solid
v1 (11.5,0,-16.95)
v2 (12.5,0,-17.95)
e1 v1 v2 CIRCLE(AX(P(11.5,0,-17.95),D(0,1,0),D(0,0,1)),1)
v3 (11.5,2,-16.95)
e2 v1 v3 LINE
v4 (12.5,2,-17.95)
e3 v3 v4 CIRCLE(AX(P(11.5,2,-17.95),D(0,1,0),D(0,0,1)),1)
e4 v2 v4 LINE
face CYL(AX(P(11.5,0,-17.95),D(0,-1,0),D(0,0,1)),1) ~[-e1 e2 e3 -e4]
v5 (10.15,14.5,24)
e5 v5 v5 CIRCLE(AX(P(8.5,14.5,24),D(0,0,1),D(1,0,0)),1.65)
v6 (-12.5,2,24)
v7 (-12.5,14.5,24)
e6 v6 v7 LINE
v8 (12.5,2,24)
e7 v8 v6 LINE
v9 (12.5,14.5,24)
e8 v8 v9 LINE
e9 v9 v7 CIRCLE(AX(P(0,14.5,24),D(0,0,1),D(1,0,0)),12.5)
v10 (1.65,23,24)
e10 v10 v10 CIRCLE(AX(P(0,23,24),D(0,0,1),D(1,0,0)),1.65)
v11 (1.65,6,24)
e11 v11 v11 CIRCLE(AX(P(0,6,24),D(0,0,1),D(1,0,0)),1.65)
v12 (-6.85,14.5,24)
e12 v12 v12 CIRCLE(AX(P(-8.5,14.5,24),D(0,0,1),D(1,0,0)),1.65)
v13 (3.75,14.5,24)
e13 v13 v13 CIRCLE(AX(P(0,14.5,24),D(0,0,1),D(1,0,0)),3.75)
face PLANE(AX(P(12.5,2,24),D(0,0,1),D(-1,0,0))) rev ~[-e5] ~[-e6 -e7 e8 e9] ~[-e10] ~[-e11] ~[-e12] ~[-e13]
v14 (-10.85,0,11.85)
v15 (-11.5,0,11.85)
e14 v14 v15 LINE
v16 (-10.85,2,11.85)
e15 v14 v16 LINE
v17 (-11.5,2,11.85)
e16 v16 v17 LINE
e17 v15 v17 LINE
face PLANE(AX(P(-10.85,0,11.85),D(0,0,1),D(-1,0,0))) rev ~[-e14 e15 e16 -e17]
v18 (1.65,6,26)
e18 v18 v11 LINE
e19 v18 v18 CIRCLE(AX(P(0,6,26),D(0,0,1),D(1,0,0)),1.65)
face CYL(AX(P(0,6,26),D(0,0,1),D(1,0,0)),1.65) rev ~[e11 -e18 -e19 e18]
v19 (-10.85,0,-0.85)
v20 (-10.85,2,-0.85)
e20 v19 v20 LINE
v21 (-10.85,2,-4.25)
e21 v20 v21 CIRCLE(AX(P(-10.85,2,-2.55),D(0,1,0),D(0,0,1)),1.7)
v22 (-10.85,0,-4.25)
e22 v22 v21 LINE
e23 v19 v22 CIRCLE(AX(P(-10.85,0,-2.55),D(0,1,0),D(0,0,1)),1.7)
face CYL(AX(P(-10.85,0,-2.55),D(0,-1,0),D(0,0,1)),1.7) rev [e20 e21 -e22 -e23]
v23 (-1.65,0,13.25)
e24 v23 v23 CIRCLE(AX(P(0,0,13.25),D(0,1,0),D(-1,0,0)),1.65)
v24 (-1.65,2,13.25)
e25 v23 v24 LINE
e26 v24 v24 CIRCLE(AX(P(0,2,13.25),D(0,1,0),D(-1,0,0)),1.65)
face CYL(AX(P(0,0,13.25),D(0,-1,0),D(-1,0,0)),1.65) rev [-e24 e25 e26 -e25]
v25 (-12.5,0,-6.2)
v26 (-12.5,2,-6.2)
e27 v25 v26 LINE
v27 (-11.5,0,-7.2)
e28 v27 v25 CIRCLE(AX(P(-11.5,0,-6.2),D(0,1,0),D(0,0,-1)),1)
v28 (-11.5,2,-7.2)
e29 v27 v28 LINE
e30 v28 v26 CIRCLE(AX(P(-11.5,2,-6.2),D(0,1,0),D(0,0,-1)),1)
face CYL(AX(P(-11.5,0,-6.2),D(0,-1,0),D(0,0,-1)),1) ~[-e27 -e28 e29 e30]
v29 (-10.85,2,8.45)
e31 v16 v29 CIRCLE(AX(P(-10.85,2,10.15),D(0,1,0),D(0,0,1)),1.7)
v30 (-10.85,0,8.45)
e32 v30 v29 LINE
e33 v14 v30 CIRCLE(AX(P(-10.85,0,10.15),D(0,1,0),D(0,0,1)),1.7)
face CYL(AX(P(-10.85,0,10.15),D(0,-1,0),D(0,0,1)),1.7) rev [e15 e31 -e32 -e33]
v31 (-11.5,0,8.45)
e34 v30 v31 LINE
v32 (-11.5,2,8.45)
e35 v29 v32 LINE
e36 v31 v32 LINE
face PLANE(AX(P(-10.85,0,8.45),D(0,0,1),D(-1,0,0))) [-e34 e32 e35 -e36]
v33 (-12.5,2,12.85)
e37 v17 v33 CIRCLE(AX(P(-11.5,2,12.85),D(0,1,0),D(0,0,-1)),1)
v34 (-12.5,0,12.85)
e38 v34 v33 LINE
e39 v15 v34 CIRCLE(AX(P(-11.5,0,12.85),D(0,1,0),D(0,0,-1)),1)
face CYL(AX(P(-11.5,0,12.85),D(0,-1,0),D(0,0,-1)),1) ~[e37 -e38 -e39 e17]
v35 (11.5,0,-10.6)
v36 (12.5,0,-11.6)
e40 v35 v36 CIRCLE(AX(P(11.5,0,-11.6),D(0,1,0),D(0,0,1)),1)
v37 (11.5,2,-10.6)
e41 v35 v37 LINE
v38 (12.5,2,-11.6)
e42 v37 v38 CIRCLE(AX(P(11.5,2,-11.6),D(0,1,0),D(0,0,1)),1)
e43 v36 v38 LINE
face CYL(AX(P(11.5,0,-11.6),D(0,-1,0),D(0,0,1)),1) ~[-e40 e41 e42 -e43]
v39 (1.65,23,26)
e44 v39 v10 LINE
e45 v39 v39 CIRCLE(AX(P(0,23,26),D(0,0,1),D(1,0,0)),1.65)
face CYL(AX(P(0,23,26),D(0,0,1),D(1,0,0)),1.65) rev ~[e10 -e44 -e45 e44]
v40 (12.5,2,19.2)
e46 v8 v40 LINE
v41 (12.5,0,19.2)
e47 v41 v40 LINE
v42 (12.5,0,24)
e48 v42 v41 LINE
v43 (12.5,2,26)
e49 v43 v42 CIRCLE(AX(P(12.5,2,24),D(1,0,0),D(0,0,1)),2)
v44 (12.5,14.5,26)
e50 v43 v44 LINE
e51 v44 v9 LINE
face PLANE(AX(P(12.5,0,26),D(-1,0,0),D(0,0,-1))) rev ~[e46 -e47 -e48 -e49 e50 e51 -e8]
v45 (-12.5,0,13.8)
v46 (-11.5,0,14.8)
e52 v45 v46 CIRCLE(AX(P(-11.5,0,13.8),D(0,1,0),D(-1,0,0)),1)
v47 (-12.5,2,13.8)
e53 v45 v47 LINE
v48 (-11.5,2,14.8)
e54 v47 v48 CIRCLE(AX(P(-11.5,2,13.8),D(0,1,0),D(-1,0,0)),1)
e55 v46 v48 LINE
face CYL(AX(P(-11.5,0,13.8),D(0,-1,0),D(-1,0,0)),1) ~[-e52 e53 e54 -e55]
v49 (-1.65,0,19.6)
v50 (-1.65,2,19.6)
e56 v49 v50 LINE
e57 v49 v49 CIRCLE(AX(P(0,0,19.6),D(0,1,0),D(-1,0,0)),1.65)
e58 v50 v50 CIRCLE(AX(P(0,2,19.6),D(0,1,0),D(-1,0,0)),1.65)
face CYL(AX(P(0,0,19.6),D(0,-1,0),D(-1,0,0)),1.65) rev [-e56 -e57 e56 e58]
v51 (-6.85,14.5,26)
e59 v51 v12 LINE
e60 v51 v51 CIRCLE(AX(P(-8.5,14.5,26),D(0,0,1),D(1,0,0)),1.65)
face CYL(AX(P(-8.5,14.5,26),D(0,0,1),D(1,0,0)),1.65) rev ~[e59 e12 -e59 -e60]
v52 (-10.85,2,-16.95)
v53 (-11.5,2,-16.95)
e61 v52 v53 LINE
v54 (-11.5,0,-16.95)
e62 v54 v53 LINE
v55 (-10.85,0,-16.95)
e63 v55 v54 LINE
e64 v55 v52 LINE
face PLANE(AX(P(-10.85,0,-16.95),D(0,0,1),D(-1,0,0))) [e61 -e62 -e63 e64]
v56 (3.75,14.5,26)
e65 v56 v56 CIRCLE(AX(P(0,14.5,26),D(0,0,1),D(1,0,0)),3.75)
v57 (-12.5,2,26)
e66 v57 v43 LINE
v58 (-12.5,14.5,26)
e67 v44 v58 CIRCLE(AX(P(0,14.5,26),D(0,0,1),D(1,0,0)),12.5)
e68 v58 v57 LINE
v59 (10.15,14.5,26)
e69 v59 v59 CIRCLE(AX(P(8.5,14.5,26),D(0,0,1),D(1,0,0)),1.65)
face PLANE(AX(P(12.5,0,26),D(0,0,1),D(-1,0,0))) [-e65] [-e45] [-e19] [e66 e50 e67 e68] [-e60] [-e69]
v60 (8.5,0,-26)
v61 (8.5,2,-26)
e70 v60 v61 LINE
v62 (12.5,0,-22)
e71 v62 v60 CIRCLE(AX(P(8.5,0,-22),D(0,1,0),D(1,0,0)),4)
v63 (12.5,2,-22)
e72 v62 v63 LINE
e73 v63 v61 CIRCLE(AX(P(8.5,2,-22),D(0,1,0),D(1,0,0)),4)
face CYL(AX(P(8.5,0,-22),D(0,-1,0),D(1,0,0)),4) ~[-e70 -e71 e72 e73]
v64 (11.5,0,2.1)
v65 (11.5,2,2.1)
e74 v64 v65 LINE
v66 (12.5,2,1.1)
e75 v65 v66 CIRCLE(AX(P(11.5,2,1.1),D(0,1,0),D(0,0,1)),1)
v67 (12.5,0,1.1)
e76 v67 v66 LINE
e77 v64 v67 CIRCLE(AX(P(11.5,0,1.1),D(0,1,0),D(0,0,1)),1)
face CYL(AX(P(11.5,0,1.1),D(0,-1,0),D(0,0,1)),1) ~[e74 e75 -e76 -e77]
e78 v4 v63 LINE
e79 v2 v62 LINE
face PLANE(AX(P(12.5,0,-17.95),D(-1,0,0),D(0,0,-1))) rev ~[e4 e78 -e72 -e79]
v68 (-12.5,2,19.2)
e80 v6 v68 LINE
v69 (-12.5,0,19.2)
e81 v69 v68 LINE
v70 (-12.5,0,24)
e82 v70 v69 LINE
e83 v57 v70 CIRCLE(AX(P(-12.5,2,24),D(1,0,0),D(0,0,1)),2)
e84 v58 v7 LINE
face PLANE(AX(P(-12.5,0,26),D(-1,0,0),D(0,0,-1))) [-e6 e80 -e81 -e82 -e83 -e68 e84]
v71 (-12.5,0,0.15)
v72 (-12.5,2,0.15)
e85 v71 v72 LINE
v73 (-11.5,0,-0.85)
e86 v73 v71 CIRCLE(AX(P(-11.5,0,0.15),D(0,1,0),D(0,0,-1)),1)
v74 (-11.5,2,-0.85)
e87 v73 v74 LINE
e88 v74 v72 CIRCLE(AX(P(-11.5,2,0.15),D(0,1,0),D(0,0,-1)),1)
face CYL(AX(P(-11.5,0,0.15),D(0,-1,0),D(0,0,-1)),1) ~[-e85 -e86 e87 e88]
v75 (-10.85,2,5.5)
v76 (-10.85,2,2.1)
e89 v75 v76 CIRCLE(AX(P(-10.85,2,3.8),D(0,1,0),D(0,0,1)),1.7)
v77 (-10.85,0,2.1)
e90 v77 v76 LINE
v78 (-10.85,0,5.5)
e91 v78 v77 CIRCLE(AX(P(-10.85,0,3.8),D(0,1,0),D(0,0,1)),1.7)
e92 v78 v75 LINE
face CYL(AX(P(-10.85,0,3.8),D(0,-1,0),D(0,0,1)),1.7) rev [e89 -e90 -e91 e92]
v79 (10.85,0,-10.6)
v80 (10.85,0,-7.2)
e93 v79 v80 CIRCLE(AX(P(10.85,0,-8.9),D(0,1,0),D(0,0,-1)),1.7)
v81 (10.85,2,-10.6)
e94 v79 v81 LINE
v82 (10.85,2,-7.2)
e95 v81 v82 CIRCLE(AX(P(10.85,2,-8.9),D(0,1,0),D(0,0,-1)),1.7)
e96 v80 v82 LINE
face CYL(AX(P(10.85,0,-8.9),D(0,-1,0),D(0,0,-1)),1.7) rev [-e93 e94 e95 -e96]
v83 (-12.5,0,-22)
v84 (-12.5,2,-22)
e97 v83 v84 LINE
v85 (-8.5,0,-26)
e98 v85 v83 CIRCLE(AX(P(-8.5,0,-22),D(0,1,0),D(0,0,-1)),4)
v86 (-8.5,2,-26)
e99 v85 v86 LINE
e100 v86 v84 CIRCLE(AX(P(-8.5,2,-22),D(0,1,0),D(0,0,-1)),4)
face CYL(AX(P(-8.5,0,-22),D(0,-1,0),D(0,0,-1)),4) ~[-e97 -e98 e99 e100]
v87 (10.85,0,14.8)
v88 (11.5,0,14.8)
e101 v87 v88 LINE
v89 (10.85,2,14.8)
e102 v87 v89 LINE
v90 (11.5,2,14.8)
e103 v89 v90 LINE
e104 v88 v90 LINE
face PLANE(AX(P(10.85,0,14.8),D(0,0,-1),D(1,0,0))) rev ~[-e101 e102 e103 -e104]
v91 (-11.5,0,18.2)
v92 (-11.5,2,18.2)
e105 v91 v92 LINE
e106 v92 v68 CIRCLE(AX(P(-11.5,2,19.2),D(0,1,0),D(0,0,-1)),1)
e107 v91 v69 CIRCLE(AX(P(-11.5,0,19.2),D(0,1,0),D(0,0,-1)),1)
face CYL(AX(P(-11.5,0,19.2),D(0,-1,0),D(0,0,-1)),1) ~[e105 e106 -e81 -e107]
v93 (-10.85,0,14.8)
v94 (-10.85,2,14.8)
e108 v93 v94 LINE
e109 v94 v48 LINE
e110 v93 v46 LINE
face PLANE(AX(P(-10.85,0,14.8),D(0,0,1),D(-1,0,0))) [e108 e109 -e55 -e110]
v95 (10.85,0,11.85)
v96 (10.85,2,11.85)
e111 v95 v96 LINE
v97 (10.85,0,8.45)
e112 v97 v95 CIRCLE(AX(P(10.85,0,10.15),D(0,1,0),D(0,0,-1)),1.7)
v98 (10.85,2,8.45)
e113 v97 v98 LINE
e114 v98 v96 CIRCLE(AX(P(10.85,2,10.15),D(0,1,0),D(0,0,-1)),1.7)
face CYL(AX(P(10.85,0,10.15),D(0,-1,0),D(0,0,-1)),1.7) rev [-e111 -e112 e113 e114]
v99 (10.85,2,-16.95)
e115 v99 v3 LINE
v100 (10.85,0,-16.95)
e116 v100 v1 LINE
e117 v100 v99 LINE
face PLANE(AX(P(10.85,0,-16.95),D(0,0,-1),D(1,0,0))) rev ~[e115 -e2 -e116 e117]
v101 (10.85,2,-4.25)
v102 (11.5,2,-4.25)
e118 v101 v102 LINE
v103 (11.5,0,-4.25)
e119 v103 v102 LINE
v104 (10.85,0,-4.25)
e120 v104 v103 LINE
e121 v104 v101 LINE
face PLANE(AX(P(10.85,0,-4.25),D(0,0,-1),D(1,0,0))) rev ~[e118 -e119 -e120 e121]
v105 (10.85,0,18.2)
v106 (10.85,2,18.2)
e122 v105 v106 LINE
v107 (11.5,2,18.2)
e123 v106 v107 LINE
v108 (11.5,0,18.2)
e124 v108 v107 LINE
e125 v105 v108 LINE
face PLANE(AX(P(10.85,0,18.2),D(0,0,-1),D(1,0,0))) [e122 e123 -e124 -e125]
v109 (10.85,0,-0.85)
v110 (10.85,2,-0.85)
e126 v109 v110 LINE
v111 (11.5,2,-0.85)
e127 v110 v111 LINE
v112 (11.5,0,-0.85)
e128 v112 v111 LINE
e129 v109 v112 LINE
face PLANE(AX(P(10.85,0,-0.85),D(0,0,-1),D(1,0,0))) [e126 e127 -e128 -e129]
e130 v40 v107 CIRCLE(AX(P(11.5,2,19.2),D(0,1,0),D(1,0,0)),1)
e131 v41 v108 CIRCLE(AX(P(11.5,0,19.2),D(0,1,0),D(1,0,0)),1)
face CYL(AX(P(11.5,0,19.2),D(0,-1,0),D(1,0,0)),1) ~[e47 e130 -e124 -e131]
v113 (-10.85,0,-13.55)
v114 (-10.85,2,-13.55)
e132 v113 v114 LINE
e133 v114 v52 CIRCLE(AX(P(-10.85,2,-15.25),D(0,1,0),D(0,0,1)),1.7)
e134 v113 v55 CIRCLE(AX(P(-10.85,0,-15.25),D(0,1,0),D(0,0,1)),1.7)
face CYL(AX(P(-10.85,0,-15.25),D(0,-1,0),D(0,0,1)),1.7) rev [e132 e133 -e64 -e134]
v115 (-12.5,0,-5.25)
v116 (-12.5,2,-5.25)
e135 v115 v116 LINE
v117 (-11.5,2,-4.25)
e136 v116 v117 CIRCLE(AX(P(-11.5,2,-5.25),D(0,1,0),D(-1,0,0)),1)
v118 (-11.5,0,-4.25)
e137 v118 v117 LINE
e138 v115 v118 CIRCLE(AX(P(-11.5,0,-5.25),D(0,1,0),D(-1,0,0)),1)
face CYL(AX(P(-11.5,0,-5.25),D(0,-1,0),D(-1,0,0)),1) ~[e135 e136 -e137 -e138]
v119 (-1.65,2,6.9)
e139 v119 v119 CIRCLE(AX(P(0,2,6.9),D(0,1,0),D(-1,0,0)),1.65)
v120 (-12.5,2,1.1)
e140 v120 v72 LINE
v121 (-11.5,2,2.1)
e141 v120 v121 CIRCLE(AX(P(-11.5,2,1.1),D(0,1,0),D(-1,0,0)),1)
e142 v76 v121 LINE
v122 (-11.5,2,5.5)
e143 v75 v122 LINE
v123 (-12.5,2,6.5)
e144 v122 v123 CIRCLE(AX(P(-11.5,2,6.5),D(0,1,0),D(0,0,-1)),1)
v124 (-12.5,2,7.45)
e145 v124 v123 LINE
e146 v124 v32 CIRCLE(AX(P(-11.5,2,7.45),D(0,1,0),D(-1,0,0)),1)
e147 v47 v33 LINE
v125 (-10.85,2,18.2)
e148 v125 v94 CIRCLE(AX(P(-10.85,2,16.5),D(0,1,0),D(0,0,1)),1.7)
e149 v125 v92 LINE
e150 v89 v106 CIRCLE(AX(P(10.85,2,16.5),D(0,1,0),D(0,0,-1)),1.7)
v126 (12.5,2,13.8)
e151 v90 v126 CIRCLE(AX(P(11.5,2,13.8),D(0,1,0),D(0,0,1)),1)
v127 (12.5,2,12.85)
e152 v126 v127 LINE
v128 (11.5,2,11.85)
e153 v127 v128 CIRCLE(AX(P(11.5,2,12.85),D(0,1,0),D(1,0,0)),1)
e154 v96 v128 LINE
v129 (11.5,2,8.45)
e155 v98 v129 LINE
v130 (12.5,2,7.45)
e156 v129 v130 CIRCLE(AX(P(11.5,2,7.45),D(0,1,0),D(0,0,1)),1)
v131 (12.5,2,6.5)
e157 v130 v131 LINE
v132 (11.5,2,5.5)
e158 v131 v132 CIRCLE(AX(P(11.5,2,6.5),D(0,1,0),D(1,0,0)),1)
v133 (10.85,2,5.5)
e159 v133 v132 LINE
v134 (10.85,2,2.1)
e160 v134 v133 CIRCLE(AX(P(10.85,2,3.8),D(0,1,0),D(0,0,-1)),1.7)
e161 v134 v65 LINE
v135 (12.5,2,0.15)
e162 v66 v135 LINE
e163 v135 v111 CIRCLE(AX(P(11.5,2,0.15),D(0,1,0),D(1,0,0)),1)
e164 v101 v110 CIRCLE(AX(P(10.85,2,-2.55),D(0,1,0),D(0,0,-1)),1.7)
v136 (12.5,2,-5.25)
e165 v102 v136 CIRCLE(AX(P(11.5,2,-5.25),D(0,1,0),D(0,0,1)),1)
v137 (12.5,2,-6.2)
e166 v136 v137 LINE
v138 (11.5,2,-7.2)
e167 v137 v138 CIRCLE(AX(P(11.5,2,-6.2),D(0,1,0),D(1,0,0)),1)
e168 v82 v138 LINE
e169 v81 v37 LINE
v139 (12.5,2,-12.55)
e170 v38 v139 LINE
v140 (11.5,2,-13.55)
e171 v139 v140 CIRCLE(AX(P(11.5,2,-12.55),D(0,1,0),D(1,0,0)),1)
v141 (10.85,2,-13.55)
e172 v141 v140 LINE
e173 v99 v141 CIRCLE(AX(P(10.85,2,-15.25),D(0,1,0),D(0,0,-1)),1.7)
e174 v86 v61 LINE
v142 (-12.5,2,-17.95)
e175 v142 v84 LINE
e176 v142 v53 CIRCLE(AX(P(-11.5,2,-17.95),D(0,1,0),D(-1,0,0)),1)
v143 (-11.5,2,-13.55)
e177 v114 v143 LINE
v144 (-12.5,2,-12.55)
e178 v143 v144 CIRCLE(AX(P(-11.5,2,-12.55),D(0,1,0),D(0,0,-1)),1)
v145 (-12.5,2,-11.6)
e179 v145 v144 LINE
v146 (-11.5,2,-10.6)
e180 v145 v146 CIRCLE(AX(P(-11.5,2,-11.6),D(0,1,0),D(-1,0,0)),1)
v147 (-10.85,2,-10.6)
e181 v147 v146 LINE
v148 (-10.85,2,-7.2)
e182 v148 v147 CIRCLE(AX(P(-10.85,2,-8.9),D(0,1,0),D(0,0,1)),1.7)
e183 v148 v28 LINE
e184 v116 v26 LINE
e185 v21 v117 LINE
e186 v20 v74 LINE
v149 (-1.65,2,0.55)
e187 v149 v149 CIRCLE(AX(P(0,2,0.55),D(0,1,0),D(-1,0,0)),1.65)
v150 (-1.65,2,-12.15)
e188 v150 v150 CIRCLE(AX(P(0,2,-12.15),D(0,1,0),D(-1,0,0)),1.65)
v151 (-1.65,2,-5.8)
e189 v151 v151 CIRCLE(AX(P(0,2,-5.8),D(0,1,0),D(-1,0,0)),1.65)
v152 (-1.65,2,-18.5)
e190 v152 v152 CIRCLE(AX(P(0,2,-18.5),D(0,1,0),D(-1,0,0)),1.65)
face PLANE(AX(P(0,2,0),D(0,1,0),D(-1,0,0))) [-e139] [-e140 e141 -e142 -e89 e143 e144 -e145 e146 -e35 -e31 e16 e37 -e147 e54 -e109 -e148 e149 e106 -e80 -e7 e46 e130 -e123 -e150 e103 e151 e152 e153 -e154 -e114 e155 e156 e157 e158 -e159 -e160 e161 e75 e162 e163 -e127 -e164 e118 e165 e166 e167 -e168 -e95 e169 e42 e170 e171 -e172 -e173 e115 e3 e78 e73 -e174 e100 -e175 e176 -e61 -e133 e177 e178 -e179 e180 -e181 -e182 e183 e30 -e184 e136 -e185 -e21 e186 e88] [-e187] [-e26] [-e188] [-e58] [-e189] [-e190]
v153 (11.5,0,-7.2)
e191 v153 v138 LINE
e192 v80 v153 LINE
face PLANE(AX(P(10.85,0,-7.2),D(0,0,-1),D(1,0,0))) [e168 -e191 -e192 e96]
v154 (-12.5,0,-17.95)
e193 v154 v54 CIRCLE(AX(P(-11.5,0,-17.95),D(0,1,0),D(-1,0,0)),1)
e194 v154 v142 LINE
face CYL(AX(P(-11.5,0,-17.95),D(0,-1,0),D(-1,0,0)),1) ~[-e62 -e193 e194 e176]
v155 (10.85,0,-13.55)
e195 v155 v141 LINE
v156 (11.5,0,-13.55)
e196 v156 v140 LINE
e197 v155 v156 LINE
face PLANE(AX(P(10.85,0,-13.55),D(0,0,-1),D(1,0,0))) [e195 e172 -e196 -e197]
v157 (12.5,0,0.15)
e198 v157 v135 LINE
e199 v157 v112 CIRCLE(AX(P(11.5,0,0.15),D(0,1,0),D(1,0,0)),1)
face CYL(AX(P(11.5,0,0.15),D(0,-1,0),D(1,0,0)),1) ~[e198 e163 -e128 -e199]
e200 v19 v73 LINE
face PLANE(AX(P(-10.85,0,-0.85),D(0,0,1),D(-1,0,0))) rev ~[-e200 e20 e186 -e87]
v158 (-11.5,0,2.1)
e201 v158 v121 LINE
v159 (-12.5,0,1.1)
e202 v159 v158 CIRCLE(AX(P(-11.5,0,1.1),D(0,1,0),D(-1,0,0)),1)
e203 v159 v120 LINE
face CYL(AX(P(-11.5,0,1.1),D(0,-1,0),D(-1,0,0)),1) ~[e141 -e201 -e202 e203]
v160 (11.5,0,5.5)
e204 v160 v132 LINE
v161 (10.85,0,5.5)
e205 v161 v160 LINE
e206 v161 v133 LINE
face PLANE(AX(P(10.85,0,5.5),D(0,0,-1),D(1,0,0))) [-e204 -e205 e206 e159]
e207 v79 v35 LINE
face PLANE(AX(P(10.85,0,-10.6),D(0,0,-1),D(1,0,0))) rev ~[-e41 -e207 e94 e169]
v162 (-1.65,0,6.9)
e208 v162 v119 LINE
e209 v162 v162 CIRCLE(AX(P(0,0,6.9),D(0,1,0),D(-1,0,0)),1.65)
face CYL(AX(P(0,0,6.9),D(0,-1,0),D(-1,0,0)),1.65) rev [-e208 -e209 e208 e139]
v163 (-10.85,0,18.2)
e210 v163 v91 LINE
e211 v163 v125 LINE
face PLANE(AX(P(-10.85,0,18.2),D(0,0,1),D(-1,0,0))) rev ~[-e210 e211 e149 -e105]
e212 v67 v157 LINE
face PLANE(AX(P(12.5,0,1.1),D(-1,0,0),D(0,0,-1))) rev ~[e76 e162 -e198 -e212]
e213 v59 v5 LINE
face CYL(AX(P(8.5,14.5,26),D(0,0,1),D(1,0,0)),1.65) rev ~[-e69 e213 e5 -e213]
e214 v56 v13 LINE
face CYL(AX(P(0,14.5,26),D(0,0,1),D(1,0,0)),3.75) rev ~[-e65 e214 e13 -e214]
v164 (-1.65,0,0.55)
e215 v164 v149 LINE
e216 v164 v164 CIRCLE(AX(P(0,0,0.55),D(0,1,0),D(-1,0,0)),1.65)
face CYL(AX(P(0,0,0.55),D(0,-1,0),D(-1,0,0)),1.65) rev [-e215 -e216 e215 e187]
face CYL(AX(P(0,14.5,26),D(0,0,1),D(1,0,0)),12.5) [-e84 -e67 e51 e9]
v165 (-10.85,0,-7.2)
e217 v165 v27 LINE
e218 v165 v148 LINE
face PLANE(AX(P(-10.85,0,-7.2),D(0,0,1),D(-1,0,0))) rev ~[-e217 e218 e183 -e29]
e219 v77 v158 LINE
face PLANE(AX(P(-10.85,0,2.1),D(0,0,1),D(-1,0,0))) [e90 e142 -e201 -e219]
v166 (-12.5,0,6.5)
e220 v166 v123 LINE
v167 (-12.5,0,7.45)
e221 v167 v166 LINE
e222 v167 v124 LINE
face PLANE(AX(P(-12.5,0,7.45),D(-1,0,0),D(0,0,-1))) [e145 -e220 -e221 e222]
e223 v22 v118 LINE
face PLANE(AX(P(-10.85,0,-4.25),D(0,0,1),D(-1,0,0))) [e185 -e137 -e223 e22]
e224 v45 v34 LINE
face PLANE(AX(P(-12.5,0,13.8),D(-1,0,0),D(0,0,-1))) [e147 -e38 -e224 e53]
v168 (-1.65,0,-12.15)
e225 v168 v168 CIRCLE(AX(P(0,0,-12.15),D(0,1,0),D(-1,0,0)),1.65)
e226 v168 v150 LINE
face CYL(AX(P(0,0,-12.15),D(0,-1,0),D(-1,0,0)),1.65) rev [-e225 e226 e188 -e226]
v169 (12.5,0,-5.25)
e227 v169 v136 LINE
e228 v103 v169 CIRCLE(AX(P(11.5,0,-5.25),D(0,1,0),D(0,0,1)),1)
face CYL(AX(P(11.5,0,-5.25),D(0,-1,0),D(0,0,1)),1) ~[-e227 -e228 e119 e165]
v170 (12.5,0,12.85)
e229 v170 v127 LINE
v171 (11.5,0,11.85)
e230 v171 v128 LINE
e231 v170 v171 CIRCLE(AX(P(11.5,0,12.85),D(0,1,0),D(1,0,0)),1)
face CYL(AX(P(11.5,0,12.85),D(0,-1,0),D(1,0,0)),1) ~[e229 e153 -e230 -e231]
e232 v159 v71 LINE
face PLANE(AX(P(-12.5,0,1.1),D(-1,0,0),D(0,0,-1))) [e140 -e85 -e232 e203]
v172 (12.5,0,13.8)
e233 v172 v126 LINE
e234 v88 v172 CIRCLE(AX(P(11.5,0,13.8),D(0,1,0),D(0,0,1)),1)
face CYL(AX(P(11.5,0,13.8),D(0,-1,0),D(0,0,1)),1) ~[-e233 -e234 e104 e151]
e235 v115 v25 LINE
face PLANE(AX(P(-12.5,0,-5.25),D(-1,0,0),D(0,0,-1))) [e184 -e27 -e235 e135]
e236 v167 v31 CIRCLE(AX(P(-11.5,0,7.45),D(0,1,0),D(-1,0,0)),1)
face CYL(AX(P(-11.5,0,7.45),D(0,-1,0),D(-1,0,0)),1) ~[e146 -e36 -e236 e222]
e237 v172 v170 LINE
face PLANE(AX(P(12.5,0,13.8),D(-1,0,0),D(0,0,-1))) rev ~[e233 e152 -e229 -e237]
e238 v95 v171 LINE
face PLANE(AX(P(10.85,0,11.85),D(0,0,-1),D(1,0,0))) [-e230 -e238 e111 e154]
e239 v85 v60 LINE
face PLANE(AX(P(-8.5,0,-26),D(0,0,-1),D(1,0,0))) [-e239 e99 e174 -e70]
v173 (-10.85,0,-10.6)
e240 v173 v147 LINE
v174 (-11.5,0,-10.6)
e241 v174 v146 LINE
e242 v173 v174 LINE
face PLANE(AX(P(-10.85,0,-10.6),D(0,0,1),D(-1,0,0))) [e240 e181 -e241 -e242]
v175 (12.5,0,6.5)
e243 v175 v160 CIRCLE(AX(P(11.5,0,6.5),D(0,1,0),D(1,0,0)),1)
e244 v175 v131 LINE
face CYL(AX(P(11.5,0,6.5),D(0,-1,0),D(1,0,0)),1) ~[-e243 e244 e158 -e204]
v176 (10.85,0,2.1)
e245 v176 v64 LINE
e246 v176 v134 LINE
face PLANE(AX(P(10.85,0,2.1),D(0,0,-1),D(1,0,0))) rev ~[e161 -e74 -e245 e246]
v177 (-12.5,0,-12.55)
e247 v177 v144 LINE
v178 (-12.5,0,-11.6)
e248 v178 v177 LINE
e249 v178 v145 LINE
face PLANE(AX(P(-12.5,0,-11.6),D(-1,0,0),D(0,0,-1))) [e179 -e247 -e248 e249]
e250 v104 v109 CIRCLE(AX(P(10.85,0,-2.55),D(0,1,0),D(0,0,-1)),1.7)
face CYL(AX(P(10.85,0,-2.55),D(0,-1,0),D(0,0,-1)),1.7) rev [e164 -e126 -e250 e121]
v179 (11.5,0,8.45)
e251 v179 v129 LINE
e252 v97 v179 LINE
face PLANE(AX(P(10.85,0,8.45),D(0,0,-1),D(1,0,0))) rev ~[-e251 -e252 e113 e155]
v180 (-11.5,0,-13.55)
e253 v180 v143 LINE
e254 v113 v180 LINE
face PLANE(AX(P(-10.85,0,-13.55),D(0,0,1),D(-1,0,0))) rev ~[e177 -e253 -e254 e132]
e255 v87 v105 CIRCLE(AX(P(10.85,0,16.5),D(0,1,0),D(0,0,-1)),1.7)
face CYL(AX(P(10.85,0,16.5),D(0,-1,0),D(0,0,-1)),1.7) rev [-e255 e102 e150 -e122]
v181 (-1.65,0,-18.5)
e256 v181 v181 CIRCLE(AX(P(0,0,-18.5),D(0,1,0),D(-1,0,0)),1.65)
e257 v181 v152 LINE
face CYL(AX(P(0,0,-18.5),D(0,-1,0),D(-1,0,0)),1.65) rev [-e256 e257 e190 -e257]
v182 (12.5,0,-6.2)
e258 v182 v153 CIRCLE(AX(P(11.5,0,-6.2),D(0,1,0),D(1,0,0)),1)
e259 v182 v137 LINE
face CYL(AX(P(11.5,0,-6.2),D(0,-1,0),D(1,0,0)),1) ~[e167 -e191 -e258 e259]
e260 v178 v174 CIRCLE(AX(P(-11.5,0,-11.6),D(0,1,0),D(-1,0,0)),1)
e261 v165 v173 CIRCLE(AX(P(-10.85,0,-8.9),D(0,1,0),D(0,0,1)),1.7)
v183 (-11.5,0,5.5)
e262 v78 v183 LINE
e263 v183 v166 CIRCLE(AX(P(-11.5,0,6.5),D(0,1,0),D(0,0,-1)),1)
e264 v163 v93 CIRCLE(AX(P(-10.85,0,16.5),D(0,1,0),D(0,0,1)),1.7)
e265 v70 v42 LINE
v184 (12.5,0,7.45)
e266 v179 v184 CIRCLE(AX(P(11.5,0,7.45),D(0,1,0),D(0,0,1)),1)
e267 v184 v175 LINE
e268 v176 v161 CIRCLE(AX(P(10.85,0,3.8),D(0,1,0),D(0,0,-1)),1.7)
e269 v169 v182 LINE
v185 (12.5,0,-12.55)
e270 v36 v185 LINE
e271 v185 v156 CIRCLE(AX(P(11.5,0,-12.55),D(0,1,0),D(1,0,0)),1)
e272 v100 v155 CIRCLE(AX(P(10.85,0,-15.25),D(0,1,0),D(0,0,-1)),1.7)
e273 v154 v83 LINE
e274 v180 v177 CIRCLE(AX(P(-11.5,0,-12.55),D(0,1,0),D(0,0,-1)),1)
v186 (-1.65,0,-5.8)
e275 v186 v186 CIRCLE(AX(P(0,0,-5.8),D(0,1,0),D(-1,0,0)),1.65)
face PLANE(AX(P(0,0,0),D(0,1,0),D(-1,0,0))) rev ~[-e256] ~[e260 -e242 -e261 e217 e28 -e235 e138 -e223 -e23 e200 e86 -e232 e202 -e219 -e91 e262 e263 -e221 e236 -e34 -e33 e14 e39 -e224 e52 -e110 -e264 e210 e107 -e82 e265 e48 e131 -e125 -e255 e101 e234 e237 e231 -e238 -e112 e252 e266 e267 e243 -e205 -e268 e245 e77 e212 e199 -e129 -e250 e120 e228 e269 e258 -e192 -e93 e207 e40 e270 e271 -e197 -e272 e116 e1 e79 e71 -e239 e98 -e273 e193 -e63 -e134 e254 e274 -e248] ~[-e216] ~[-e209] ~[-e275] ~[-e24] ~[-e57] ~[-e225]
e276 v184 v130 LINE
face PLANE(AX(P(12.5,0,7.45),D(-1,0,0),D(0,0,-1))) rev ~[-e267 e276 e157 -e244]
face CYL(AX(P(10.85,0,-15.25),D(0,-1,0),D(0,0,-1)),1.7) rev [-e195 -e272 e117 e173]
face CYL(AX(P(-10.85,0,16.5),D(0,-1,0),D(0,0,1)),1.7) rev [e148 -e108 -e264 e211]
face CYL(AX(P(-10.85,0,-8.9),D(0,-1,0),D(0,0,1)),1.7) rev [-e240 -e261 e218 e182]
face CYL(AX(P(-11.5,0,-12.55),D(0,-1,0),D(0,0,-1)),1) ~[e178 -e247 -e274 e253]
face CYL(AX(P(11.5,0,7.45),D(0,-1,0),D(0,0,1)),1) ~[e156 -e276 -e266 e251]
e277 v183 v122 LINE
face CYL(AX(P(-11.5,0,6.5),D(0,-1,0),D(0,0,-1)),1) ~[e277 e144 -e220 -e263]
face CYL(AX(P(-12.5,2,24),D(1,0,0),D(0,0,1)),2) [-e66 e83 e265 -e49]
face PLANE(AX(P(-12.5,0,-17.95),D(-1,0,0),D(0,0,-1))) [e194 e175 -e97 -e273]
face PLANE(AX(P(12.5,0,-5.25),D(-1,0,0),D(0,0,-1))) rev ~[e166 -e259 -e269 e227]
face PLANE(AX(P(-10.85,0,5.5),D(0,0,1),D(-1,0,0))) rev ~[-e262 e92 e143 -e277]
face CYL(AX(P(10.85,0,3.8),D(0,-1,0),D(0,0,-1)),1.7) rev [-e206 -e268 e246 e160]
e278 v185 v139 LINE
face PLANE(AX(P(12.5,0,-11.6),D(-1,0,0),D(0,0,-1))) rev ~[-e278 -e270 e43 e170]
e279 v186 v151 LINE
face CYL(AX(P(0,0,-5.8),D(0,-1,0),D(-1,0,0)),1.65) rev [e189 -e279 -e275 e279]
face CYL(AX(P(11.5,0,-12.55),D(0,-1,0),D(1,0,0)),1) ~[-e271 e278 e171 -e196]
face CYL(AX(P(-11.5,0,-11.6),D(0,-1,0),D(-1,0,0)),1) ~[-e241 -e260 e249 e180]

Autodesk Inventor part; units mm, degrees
ref_plane "YZ Plane" through (0, 0, 0) normal (1, 0, 0) x (0, 1, 0)
ref_plane "XZ Plane" through (0, 0, 0) normal (0, 1, 0) x (-1, 0, 0)
ref_plane "XY Plane" through (0, 0, 0) normal (0, 0, 1) x (1, 0, 0)
sketch "Sketch1" plane through (0, 0, 0) normal (0, 1, 0) x (-1, 0, 0)
  line L0 (-12.5, 26) -> (12.5, 26)
  line L1 (12.5, 26) -> (12.5, 19.2)
  line L2 (8.5, -26) -> (-8.5, -26)
  circle A0 centre (0, 19.6) radius 1.65
  line L3 (0, 26) -> (10.85, 26)
  arc A1 (10.85, 18.2) -> (10.85, 14.8) centre (10.85, 16.5) ccw
  line L4 (10.85, 18.2) -> (11.5, 18.2)
  line L5 (10.85, 14.8) -> (11.5, 14.8)
  arc A2 (11.5, 18.2) -> (12.5, 19.2) centre (11.5, 19.2) ccw
  arc A3 (12.5, 13.8) -> (11.5, 14.8) centre (11.5, 13.8) ccw
  arc A4 (10.85, 11.85) -> (10.85, 8.45) centre (10.85, 10.15) ccw
  line L6 (10.85, 11.85) -> (11.5, 11.85)
  line L7 (10.85, 8.45) -> (11.5, 8.45)
  arc A5 (11.5, 11.85) -> (12.5, 12.85) centre (11.5, 12.85) ccw
  arc A6 (12.5, 7.45) -> (11.5, 8.45) centre (11.5, 7.45) ccw
  arc A7 (10.85, 5.5) -> (10.85, 2.1) centre (10.85, 3.8) ccw
  line L8 (10.85, 5.5) -> (11.5, 5.5)
  line L9 (10.85, 2.1) -> (11.5, 2.1)
  arc A8 (11.5, 5.5) -> (12.5, 6.5) centre (11.5, 6.5) ccw
  arc A9 (12.5, 1.1) -> (11.5, 2.1) centre (11.5, 1.1) ccw
  arc A10 (10.85, -0.85) -> (10.85, -4.25) centre (10.85, -2.55) ccw
  line L10 (10.85, -0.85) -> (11.5, -0.85)
  line L11 (10.85, -4.25) -> (11.5, -4.25)
  arc A11 (11.5, -0.85) -> (12.5, 0.15) centre (11.5, 0.15) ccw
  arc A12 (12.5, -5.25) -> (11.5, -4.25) centre (11.5, -5.25) ccw
  arc A13 (10.85, -7.2) -> (10.85, -10.6) centre (10.85, -8.9) ccw
  line L12 (10.85, -7.2) -> (11.5, -7.2)
  line L13 (10.85, -10.6) -> (11.5, -10.6)
  arc A14 (11.5, -7.2) -> (12.5, -6.2) centre (11.5, -6.2) ccw
  arc A15 (12.5, -11.6) -> (11.5, -10.6) centre (11.5, -11.6) ccw
  arc A16 (10.85, -13.55) -> (10.85, -16.95) centre (10.85, -15.25) ccw
  line L14 (10.85, -13.55) -> (11.5, -13.55)
  line L15 (10.85, -16.95) -> (11.5, -16.95)
  arc A17 (11.5, -13.55) -> (12.5, -12.55) centre (11.5, -12.55) ccw
  arc A18 (12.5, -17.95) -> (11.5, -16.95) centre (11.5, -17.95) ccw
  line L16 (12.5, 13.8) -> (12.5, 12.85)
  line L17 (12.5, 7.45) -> (12.5, 6.5)
  line L18 (12.5, 1.1) -> (12.5, 0.15)
  line L19 (12.5, -5.25) -> (12.5, -6.2)
  line L20 (12.5, -11.6) -> (12.5, -12.55)
  line L21 (12.5, -17.95) -> (12.5, -22)
  line L22 (-12.5, 26) -> (-12.5, 19.2)
  arc A19 (-10.85, 14.8) -> (-10.85, 18.2) centre (-10.85, 16.5) ccw
  line L23 (-10.85, 18.2) -> (-11.5, 18.2)
  line L24 (-10.85, 14.8) -> (-11.5, 14.8)
  arc A20 (-12.5, 19.2) -> (-11.5, 18.2) centre (-11.5, 19.2) ccw
  arc A21 (-11.5, 14.8) -> (-12.5, 13.8) centre (-11.5, 13.8) ccw
  arc A22 (-11.5, 8.45) -> (-12.5, 7.45) centre (-11.5, 7.45) ccw
  line L25 (-10.85, 8.45) -> (-11.5, 8.45)
  line L26 (-10.85, 11.85) -> (-11.5, 11.85)
  arc A23 (-12.5, 12.85) -> (-11.5, 11.85) centre (-11.5, 12.85) ccw
  arc A24 (-10.85, 8.45) -> (-10.85, 11.85) centre (-10.85, 10.15) ccw
  arc A25 (-11.5, 2.1) -> (-12.5, 1.1) centre (-11.5, 1.1) ccw
  line L27 (-10.85, 2.1) -> (-11.5, 2.1)
  line L28 (-10.85, 5.5) -> (-11.5, 5.5)
  arc A26 (-12.5, 6.5) -> (-11.5, 5.5) centre (-11.5, 6.5) ccw
  arc A27 (-10.85, 2.1) -> (-10.85, 5.5) centre (-10.85, 3.8) ccw
  arc A28 (-11.5, -4.25) -> (-12.5, -5.25) centre (-11.5, -5.25) ccw
  line L29 (-10.85, -4.25) -> (-11.5, -4.25)
  line L30 (-10.85, -0.85) -> (-11.5, -0.85)
  arc A29 (-12.5, 0.15) -> (-11.5, -0.85) centre (-11.5, 0.15) ccw
  arc A30 (-10.85, -4.25) -> (-10.85, -0.85) centre (-10.85, -2.55) ccw
  arc A31 (-11.5, -10.6) -> (-12.5, -11.6) centre (-11.5, -11.6) ccw
  line L31 (-10.85, -10.6) -> (-11.5, -10.6)
  line L32 (-10.85, -7.2) -> (-11.5, -7.2)
  arc A32 (-12.5, -6.2) -> (-11.5, -7.2) centre (-11.5, -6.2) ccw
  arc A33 (-10.85, -10.6) -> (-10.85, -7.2) centre (-10.85, -8.9) ccw
  arc A34 (-11.5, -16.95) -> (-12.5, -17.95) centre (-11.5, -17.95) ccw
  line L33 (-10.85, -16.95) -> (-11.5, -16.95)
  line L34 (-10.85, -13.55) -> (-11.5, -13.55)
  arc A35 (-12.5, -12.55) -> (-11.5, -13.55) centre (-11.5, -12.55) ccw
  arc A36 (-10.85, -16.95) -> (-10.85, -13.55) centre (-10.85, -15.25) ccw
  line L35 (-12.5, 13.8) -> (-12.5, 12.85)
  line L36 (-12.5, 7.45) -> (-12.5, 6.5)
  line L37 (-12.5, 1.1) -> (-12.5, 0.15)
  line L38 (-12.5, -5.25) -> (-12.5, -6.2)
  line L39 (-12.5, -11.6) -> (-12.5, -12.55)
  line L40 (-12.5, -17.95) -> (-12.5, -22)
  arc A37 (8.5, -26) -> (12.5, -22) centre (8.5, -22) ccw
  arc A38 (-12.5, -22) -> (-8.5, -26) centre (-8.5, -22) ccw
  circle A39 centre (0, 13.25) radius 1.65
  circle A40 centre (0, 6.9) radius 1.65
  circle A41 centre (0, 0.55) radius 1.65
  circle A42 centre (0, -5.8) radius 1.65
  circle A43 centre (0, -12.15) radius 1.65
  circle A44 centre (0, -18.5) radius 1.65
  point P0 (-12.5, -26)
  point P1 (12.5, -26)
  point P2 (12.5, 14.8)
  point P3 (12.5, 8.45)
  point P4 (12.5, 2.1)
  point P5 (12.5, -4.25)
  point P6 (12.5, -10.6)
  point P7 (12.5, -16.95)
  point P8 (-12.5, 14.8)
  point P9 (-12.5, 8.45)
  point P10 (-12.5, 2.1)
  point P11 (-12.5, -4.25)
  point P12 (-12.5, -10.6)
  point P13 (-12.5, -16.95)
  dimension "d0" = 52
  dimension "d1" = 25
  dimension "d3" = 3.3
  dimension "d16" = 10.85
  dimension "d18" = 1.7
  dimension "d19" = 1
  dimension "d20" = 1
  dimension "d22" = 1.7
  dimension "d23" = 1
  dimension "d24" = 1
  dimension "d26" = 1.7
  dimension "d27" = 1
  dimension "d28" = 1
  dimension "d30" = 1.7
  dimension "d31" = 1
  dimension "d32" = 1
  dimension "d34" = 1.7
  dimension "d35" = 1
  dimension "d36" = 1
  dimension "d38" = 1.7
  dimension "d39" = 1
  dimension "d40" = 1
  dimension "d42" = 4
  dimension "d44" = 3.3
  dimension "d46" = 3.3
  dimension "d48" = 3.3
  dimension "d50" = 3.3
  dimension "d52" = 3.3
  dimension "d54" = 3.3
extrude "Extrusion1" add sketch "Sketch1" along normal blind 2
sketch "Sketch2" plane through (0, 2, 0) normal (0, 1, 0) x (1, 0, 0)
  line L0 (-12.5, -26) -> (12.5, -26)
  line L1 (12.5, -26) -> (12.5, -24)
  line L2 (12.5, -24) -> (-12.5, -24)
  line L3 (-12.5, -24) -> (-12.5, -26)
  point P0 (0, 0)
  dimension "d60" = 2
extrude "Extrusion2" add sketch "Sketch2" along normal blind 27
sketch "Sketch3" plane through (-12.5, 0, 26) normal (0, 0, 1) x (1, 0, 0)
  circle A0 centre (12.5, 14.5) radius 3.75
  circle A1 centre (12.5, 23) radius 1.65
  circle A2 centre (4, 14.5) radius 1.65
  circle A3 centre (12.5, 6) radius 1.65
  circle A4 centre (21, 14.5) radius 1.65
  line L0 (0, 0) -> (0, 29) projected
  arc A5 (25, 14.5) -> (0, 14.5) centre (12.5, 14.5) ccw
  line L1 (0, 14.5) -> (0, 29)
  line L2 (0, 29) -> (25, 29)
  line L3 (25, 29) -> (25, 14.5)
  point P0 (12.5, 0)
  dimension "d63" = 14.5
  dimension "d64" = 7.5
  dimension "d66" = 3.3
  dimension "d69" = 360
extrude "Extrusion3" cut sketch "Sketch3" against normal through all
fillet "Fillet1" radius 2 1 edges at (0, 0, 26)
properties part number "Motor Mount Bracket" material "Aluminum 6061-AHC"
